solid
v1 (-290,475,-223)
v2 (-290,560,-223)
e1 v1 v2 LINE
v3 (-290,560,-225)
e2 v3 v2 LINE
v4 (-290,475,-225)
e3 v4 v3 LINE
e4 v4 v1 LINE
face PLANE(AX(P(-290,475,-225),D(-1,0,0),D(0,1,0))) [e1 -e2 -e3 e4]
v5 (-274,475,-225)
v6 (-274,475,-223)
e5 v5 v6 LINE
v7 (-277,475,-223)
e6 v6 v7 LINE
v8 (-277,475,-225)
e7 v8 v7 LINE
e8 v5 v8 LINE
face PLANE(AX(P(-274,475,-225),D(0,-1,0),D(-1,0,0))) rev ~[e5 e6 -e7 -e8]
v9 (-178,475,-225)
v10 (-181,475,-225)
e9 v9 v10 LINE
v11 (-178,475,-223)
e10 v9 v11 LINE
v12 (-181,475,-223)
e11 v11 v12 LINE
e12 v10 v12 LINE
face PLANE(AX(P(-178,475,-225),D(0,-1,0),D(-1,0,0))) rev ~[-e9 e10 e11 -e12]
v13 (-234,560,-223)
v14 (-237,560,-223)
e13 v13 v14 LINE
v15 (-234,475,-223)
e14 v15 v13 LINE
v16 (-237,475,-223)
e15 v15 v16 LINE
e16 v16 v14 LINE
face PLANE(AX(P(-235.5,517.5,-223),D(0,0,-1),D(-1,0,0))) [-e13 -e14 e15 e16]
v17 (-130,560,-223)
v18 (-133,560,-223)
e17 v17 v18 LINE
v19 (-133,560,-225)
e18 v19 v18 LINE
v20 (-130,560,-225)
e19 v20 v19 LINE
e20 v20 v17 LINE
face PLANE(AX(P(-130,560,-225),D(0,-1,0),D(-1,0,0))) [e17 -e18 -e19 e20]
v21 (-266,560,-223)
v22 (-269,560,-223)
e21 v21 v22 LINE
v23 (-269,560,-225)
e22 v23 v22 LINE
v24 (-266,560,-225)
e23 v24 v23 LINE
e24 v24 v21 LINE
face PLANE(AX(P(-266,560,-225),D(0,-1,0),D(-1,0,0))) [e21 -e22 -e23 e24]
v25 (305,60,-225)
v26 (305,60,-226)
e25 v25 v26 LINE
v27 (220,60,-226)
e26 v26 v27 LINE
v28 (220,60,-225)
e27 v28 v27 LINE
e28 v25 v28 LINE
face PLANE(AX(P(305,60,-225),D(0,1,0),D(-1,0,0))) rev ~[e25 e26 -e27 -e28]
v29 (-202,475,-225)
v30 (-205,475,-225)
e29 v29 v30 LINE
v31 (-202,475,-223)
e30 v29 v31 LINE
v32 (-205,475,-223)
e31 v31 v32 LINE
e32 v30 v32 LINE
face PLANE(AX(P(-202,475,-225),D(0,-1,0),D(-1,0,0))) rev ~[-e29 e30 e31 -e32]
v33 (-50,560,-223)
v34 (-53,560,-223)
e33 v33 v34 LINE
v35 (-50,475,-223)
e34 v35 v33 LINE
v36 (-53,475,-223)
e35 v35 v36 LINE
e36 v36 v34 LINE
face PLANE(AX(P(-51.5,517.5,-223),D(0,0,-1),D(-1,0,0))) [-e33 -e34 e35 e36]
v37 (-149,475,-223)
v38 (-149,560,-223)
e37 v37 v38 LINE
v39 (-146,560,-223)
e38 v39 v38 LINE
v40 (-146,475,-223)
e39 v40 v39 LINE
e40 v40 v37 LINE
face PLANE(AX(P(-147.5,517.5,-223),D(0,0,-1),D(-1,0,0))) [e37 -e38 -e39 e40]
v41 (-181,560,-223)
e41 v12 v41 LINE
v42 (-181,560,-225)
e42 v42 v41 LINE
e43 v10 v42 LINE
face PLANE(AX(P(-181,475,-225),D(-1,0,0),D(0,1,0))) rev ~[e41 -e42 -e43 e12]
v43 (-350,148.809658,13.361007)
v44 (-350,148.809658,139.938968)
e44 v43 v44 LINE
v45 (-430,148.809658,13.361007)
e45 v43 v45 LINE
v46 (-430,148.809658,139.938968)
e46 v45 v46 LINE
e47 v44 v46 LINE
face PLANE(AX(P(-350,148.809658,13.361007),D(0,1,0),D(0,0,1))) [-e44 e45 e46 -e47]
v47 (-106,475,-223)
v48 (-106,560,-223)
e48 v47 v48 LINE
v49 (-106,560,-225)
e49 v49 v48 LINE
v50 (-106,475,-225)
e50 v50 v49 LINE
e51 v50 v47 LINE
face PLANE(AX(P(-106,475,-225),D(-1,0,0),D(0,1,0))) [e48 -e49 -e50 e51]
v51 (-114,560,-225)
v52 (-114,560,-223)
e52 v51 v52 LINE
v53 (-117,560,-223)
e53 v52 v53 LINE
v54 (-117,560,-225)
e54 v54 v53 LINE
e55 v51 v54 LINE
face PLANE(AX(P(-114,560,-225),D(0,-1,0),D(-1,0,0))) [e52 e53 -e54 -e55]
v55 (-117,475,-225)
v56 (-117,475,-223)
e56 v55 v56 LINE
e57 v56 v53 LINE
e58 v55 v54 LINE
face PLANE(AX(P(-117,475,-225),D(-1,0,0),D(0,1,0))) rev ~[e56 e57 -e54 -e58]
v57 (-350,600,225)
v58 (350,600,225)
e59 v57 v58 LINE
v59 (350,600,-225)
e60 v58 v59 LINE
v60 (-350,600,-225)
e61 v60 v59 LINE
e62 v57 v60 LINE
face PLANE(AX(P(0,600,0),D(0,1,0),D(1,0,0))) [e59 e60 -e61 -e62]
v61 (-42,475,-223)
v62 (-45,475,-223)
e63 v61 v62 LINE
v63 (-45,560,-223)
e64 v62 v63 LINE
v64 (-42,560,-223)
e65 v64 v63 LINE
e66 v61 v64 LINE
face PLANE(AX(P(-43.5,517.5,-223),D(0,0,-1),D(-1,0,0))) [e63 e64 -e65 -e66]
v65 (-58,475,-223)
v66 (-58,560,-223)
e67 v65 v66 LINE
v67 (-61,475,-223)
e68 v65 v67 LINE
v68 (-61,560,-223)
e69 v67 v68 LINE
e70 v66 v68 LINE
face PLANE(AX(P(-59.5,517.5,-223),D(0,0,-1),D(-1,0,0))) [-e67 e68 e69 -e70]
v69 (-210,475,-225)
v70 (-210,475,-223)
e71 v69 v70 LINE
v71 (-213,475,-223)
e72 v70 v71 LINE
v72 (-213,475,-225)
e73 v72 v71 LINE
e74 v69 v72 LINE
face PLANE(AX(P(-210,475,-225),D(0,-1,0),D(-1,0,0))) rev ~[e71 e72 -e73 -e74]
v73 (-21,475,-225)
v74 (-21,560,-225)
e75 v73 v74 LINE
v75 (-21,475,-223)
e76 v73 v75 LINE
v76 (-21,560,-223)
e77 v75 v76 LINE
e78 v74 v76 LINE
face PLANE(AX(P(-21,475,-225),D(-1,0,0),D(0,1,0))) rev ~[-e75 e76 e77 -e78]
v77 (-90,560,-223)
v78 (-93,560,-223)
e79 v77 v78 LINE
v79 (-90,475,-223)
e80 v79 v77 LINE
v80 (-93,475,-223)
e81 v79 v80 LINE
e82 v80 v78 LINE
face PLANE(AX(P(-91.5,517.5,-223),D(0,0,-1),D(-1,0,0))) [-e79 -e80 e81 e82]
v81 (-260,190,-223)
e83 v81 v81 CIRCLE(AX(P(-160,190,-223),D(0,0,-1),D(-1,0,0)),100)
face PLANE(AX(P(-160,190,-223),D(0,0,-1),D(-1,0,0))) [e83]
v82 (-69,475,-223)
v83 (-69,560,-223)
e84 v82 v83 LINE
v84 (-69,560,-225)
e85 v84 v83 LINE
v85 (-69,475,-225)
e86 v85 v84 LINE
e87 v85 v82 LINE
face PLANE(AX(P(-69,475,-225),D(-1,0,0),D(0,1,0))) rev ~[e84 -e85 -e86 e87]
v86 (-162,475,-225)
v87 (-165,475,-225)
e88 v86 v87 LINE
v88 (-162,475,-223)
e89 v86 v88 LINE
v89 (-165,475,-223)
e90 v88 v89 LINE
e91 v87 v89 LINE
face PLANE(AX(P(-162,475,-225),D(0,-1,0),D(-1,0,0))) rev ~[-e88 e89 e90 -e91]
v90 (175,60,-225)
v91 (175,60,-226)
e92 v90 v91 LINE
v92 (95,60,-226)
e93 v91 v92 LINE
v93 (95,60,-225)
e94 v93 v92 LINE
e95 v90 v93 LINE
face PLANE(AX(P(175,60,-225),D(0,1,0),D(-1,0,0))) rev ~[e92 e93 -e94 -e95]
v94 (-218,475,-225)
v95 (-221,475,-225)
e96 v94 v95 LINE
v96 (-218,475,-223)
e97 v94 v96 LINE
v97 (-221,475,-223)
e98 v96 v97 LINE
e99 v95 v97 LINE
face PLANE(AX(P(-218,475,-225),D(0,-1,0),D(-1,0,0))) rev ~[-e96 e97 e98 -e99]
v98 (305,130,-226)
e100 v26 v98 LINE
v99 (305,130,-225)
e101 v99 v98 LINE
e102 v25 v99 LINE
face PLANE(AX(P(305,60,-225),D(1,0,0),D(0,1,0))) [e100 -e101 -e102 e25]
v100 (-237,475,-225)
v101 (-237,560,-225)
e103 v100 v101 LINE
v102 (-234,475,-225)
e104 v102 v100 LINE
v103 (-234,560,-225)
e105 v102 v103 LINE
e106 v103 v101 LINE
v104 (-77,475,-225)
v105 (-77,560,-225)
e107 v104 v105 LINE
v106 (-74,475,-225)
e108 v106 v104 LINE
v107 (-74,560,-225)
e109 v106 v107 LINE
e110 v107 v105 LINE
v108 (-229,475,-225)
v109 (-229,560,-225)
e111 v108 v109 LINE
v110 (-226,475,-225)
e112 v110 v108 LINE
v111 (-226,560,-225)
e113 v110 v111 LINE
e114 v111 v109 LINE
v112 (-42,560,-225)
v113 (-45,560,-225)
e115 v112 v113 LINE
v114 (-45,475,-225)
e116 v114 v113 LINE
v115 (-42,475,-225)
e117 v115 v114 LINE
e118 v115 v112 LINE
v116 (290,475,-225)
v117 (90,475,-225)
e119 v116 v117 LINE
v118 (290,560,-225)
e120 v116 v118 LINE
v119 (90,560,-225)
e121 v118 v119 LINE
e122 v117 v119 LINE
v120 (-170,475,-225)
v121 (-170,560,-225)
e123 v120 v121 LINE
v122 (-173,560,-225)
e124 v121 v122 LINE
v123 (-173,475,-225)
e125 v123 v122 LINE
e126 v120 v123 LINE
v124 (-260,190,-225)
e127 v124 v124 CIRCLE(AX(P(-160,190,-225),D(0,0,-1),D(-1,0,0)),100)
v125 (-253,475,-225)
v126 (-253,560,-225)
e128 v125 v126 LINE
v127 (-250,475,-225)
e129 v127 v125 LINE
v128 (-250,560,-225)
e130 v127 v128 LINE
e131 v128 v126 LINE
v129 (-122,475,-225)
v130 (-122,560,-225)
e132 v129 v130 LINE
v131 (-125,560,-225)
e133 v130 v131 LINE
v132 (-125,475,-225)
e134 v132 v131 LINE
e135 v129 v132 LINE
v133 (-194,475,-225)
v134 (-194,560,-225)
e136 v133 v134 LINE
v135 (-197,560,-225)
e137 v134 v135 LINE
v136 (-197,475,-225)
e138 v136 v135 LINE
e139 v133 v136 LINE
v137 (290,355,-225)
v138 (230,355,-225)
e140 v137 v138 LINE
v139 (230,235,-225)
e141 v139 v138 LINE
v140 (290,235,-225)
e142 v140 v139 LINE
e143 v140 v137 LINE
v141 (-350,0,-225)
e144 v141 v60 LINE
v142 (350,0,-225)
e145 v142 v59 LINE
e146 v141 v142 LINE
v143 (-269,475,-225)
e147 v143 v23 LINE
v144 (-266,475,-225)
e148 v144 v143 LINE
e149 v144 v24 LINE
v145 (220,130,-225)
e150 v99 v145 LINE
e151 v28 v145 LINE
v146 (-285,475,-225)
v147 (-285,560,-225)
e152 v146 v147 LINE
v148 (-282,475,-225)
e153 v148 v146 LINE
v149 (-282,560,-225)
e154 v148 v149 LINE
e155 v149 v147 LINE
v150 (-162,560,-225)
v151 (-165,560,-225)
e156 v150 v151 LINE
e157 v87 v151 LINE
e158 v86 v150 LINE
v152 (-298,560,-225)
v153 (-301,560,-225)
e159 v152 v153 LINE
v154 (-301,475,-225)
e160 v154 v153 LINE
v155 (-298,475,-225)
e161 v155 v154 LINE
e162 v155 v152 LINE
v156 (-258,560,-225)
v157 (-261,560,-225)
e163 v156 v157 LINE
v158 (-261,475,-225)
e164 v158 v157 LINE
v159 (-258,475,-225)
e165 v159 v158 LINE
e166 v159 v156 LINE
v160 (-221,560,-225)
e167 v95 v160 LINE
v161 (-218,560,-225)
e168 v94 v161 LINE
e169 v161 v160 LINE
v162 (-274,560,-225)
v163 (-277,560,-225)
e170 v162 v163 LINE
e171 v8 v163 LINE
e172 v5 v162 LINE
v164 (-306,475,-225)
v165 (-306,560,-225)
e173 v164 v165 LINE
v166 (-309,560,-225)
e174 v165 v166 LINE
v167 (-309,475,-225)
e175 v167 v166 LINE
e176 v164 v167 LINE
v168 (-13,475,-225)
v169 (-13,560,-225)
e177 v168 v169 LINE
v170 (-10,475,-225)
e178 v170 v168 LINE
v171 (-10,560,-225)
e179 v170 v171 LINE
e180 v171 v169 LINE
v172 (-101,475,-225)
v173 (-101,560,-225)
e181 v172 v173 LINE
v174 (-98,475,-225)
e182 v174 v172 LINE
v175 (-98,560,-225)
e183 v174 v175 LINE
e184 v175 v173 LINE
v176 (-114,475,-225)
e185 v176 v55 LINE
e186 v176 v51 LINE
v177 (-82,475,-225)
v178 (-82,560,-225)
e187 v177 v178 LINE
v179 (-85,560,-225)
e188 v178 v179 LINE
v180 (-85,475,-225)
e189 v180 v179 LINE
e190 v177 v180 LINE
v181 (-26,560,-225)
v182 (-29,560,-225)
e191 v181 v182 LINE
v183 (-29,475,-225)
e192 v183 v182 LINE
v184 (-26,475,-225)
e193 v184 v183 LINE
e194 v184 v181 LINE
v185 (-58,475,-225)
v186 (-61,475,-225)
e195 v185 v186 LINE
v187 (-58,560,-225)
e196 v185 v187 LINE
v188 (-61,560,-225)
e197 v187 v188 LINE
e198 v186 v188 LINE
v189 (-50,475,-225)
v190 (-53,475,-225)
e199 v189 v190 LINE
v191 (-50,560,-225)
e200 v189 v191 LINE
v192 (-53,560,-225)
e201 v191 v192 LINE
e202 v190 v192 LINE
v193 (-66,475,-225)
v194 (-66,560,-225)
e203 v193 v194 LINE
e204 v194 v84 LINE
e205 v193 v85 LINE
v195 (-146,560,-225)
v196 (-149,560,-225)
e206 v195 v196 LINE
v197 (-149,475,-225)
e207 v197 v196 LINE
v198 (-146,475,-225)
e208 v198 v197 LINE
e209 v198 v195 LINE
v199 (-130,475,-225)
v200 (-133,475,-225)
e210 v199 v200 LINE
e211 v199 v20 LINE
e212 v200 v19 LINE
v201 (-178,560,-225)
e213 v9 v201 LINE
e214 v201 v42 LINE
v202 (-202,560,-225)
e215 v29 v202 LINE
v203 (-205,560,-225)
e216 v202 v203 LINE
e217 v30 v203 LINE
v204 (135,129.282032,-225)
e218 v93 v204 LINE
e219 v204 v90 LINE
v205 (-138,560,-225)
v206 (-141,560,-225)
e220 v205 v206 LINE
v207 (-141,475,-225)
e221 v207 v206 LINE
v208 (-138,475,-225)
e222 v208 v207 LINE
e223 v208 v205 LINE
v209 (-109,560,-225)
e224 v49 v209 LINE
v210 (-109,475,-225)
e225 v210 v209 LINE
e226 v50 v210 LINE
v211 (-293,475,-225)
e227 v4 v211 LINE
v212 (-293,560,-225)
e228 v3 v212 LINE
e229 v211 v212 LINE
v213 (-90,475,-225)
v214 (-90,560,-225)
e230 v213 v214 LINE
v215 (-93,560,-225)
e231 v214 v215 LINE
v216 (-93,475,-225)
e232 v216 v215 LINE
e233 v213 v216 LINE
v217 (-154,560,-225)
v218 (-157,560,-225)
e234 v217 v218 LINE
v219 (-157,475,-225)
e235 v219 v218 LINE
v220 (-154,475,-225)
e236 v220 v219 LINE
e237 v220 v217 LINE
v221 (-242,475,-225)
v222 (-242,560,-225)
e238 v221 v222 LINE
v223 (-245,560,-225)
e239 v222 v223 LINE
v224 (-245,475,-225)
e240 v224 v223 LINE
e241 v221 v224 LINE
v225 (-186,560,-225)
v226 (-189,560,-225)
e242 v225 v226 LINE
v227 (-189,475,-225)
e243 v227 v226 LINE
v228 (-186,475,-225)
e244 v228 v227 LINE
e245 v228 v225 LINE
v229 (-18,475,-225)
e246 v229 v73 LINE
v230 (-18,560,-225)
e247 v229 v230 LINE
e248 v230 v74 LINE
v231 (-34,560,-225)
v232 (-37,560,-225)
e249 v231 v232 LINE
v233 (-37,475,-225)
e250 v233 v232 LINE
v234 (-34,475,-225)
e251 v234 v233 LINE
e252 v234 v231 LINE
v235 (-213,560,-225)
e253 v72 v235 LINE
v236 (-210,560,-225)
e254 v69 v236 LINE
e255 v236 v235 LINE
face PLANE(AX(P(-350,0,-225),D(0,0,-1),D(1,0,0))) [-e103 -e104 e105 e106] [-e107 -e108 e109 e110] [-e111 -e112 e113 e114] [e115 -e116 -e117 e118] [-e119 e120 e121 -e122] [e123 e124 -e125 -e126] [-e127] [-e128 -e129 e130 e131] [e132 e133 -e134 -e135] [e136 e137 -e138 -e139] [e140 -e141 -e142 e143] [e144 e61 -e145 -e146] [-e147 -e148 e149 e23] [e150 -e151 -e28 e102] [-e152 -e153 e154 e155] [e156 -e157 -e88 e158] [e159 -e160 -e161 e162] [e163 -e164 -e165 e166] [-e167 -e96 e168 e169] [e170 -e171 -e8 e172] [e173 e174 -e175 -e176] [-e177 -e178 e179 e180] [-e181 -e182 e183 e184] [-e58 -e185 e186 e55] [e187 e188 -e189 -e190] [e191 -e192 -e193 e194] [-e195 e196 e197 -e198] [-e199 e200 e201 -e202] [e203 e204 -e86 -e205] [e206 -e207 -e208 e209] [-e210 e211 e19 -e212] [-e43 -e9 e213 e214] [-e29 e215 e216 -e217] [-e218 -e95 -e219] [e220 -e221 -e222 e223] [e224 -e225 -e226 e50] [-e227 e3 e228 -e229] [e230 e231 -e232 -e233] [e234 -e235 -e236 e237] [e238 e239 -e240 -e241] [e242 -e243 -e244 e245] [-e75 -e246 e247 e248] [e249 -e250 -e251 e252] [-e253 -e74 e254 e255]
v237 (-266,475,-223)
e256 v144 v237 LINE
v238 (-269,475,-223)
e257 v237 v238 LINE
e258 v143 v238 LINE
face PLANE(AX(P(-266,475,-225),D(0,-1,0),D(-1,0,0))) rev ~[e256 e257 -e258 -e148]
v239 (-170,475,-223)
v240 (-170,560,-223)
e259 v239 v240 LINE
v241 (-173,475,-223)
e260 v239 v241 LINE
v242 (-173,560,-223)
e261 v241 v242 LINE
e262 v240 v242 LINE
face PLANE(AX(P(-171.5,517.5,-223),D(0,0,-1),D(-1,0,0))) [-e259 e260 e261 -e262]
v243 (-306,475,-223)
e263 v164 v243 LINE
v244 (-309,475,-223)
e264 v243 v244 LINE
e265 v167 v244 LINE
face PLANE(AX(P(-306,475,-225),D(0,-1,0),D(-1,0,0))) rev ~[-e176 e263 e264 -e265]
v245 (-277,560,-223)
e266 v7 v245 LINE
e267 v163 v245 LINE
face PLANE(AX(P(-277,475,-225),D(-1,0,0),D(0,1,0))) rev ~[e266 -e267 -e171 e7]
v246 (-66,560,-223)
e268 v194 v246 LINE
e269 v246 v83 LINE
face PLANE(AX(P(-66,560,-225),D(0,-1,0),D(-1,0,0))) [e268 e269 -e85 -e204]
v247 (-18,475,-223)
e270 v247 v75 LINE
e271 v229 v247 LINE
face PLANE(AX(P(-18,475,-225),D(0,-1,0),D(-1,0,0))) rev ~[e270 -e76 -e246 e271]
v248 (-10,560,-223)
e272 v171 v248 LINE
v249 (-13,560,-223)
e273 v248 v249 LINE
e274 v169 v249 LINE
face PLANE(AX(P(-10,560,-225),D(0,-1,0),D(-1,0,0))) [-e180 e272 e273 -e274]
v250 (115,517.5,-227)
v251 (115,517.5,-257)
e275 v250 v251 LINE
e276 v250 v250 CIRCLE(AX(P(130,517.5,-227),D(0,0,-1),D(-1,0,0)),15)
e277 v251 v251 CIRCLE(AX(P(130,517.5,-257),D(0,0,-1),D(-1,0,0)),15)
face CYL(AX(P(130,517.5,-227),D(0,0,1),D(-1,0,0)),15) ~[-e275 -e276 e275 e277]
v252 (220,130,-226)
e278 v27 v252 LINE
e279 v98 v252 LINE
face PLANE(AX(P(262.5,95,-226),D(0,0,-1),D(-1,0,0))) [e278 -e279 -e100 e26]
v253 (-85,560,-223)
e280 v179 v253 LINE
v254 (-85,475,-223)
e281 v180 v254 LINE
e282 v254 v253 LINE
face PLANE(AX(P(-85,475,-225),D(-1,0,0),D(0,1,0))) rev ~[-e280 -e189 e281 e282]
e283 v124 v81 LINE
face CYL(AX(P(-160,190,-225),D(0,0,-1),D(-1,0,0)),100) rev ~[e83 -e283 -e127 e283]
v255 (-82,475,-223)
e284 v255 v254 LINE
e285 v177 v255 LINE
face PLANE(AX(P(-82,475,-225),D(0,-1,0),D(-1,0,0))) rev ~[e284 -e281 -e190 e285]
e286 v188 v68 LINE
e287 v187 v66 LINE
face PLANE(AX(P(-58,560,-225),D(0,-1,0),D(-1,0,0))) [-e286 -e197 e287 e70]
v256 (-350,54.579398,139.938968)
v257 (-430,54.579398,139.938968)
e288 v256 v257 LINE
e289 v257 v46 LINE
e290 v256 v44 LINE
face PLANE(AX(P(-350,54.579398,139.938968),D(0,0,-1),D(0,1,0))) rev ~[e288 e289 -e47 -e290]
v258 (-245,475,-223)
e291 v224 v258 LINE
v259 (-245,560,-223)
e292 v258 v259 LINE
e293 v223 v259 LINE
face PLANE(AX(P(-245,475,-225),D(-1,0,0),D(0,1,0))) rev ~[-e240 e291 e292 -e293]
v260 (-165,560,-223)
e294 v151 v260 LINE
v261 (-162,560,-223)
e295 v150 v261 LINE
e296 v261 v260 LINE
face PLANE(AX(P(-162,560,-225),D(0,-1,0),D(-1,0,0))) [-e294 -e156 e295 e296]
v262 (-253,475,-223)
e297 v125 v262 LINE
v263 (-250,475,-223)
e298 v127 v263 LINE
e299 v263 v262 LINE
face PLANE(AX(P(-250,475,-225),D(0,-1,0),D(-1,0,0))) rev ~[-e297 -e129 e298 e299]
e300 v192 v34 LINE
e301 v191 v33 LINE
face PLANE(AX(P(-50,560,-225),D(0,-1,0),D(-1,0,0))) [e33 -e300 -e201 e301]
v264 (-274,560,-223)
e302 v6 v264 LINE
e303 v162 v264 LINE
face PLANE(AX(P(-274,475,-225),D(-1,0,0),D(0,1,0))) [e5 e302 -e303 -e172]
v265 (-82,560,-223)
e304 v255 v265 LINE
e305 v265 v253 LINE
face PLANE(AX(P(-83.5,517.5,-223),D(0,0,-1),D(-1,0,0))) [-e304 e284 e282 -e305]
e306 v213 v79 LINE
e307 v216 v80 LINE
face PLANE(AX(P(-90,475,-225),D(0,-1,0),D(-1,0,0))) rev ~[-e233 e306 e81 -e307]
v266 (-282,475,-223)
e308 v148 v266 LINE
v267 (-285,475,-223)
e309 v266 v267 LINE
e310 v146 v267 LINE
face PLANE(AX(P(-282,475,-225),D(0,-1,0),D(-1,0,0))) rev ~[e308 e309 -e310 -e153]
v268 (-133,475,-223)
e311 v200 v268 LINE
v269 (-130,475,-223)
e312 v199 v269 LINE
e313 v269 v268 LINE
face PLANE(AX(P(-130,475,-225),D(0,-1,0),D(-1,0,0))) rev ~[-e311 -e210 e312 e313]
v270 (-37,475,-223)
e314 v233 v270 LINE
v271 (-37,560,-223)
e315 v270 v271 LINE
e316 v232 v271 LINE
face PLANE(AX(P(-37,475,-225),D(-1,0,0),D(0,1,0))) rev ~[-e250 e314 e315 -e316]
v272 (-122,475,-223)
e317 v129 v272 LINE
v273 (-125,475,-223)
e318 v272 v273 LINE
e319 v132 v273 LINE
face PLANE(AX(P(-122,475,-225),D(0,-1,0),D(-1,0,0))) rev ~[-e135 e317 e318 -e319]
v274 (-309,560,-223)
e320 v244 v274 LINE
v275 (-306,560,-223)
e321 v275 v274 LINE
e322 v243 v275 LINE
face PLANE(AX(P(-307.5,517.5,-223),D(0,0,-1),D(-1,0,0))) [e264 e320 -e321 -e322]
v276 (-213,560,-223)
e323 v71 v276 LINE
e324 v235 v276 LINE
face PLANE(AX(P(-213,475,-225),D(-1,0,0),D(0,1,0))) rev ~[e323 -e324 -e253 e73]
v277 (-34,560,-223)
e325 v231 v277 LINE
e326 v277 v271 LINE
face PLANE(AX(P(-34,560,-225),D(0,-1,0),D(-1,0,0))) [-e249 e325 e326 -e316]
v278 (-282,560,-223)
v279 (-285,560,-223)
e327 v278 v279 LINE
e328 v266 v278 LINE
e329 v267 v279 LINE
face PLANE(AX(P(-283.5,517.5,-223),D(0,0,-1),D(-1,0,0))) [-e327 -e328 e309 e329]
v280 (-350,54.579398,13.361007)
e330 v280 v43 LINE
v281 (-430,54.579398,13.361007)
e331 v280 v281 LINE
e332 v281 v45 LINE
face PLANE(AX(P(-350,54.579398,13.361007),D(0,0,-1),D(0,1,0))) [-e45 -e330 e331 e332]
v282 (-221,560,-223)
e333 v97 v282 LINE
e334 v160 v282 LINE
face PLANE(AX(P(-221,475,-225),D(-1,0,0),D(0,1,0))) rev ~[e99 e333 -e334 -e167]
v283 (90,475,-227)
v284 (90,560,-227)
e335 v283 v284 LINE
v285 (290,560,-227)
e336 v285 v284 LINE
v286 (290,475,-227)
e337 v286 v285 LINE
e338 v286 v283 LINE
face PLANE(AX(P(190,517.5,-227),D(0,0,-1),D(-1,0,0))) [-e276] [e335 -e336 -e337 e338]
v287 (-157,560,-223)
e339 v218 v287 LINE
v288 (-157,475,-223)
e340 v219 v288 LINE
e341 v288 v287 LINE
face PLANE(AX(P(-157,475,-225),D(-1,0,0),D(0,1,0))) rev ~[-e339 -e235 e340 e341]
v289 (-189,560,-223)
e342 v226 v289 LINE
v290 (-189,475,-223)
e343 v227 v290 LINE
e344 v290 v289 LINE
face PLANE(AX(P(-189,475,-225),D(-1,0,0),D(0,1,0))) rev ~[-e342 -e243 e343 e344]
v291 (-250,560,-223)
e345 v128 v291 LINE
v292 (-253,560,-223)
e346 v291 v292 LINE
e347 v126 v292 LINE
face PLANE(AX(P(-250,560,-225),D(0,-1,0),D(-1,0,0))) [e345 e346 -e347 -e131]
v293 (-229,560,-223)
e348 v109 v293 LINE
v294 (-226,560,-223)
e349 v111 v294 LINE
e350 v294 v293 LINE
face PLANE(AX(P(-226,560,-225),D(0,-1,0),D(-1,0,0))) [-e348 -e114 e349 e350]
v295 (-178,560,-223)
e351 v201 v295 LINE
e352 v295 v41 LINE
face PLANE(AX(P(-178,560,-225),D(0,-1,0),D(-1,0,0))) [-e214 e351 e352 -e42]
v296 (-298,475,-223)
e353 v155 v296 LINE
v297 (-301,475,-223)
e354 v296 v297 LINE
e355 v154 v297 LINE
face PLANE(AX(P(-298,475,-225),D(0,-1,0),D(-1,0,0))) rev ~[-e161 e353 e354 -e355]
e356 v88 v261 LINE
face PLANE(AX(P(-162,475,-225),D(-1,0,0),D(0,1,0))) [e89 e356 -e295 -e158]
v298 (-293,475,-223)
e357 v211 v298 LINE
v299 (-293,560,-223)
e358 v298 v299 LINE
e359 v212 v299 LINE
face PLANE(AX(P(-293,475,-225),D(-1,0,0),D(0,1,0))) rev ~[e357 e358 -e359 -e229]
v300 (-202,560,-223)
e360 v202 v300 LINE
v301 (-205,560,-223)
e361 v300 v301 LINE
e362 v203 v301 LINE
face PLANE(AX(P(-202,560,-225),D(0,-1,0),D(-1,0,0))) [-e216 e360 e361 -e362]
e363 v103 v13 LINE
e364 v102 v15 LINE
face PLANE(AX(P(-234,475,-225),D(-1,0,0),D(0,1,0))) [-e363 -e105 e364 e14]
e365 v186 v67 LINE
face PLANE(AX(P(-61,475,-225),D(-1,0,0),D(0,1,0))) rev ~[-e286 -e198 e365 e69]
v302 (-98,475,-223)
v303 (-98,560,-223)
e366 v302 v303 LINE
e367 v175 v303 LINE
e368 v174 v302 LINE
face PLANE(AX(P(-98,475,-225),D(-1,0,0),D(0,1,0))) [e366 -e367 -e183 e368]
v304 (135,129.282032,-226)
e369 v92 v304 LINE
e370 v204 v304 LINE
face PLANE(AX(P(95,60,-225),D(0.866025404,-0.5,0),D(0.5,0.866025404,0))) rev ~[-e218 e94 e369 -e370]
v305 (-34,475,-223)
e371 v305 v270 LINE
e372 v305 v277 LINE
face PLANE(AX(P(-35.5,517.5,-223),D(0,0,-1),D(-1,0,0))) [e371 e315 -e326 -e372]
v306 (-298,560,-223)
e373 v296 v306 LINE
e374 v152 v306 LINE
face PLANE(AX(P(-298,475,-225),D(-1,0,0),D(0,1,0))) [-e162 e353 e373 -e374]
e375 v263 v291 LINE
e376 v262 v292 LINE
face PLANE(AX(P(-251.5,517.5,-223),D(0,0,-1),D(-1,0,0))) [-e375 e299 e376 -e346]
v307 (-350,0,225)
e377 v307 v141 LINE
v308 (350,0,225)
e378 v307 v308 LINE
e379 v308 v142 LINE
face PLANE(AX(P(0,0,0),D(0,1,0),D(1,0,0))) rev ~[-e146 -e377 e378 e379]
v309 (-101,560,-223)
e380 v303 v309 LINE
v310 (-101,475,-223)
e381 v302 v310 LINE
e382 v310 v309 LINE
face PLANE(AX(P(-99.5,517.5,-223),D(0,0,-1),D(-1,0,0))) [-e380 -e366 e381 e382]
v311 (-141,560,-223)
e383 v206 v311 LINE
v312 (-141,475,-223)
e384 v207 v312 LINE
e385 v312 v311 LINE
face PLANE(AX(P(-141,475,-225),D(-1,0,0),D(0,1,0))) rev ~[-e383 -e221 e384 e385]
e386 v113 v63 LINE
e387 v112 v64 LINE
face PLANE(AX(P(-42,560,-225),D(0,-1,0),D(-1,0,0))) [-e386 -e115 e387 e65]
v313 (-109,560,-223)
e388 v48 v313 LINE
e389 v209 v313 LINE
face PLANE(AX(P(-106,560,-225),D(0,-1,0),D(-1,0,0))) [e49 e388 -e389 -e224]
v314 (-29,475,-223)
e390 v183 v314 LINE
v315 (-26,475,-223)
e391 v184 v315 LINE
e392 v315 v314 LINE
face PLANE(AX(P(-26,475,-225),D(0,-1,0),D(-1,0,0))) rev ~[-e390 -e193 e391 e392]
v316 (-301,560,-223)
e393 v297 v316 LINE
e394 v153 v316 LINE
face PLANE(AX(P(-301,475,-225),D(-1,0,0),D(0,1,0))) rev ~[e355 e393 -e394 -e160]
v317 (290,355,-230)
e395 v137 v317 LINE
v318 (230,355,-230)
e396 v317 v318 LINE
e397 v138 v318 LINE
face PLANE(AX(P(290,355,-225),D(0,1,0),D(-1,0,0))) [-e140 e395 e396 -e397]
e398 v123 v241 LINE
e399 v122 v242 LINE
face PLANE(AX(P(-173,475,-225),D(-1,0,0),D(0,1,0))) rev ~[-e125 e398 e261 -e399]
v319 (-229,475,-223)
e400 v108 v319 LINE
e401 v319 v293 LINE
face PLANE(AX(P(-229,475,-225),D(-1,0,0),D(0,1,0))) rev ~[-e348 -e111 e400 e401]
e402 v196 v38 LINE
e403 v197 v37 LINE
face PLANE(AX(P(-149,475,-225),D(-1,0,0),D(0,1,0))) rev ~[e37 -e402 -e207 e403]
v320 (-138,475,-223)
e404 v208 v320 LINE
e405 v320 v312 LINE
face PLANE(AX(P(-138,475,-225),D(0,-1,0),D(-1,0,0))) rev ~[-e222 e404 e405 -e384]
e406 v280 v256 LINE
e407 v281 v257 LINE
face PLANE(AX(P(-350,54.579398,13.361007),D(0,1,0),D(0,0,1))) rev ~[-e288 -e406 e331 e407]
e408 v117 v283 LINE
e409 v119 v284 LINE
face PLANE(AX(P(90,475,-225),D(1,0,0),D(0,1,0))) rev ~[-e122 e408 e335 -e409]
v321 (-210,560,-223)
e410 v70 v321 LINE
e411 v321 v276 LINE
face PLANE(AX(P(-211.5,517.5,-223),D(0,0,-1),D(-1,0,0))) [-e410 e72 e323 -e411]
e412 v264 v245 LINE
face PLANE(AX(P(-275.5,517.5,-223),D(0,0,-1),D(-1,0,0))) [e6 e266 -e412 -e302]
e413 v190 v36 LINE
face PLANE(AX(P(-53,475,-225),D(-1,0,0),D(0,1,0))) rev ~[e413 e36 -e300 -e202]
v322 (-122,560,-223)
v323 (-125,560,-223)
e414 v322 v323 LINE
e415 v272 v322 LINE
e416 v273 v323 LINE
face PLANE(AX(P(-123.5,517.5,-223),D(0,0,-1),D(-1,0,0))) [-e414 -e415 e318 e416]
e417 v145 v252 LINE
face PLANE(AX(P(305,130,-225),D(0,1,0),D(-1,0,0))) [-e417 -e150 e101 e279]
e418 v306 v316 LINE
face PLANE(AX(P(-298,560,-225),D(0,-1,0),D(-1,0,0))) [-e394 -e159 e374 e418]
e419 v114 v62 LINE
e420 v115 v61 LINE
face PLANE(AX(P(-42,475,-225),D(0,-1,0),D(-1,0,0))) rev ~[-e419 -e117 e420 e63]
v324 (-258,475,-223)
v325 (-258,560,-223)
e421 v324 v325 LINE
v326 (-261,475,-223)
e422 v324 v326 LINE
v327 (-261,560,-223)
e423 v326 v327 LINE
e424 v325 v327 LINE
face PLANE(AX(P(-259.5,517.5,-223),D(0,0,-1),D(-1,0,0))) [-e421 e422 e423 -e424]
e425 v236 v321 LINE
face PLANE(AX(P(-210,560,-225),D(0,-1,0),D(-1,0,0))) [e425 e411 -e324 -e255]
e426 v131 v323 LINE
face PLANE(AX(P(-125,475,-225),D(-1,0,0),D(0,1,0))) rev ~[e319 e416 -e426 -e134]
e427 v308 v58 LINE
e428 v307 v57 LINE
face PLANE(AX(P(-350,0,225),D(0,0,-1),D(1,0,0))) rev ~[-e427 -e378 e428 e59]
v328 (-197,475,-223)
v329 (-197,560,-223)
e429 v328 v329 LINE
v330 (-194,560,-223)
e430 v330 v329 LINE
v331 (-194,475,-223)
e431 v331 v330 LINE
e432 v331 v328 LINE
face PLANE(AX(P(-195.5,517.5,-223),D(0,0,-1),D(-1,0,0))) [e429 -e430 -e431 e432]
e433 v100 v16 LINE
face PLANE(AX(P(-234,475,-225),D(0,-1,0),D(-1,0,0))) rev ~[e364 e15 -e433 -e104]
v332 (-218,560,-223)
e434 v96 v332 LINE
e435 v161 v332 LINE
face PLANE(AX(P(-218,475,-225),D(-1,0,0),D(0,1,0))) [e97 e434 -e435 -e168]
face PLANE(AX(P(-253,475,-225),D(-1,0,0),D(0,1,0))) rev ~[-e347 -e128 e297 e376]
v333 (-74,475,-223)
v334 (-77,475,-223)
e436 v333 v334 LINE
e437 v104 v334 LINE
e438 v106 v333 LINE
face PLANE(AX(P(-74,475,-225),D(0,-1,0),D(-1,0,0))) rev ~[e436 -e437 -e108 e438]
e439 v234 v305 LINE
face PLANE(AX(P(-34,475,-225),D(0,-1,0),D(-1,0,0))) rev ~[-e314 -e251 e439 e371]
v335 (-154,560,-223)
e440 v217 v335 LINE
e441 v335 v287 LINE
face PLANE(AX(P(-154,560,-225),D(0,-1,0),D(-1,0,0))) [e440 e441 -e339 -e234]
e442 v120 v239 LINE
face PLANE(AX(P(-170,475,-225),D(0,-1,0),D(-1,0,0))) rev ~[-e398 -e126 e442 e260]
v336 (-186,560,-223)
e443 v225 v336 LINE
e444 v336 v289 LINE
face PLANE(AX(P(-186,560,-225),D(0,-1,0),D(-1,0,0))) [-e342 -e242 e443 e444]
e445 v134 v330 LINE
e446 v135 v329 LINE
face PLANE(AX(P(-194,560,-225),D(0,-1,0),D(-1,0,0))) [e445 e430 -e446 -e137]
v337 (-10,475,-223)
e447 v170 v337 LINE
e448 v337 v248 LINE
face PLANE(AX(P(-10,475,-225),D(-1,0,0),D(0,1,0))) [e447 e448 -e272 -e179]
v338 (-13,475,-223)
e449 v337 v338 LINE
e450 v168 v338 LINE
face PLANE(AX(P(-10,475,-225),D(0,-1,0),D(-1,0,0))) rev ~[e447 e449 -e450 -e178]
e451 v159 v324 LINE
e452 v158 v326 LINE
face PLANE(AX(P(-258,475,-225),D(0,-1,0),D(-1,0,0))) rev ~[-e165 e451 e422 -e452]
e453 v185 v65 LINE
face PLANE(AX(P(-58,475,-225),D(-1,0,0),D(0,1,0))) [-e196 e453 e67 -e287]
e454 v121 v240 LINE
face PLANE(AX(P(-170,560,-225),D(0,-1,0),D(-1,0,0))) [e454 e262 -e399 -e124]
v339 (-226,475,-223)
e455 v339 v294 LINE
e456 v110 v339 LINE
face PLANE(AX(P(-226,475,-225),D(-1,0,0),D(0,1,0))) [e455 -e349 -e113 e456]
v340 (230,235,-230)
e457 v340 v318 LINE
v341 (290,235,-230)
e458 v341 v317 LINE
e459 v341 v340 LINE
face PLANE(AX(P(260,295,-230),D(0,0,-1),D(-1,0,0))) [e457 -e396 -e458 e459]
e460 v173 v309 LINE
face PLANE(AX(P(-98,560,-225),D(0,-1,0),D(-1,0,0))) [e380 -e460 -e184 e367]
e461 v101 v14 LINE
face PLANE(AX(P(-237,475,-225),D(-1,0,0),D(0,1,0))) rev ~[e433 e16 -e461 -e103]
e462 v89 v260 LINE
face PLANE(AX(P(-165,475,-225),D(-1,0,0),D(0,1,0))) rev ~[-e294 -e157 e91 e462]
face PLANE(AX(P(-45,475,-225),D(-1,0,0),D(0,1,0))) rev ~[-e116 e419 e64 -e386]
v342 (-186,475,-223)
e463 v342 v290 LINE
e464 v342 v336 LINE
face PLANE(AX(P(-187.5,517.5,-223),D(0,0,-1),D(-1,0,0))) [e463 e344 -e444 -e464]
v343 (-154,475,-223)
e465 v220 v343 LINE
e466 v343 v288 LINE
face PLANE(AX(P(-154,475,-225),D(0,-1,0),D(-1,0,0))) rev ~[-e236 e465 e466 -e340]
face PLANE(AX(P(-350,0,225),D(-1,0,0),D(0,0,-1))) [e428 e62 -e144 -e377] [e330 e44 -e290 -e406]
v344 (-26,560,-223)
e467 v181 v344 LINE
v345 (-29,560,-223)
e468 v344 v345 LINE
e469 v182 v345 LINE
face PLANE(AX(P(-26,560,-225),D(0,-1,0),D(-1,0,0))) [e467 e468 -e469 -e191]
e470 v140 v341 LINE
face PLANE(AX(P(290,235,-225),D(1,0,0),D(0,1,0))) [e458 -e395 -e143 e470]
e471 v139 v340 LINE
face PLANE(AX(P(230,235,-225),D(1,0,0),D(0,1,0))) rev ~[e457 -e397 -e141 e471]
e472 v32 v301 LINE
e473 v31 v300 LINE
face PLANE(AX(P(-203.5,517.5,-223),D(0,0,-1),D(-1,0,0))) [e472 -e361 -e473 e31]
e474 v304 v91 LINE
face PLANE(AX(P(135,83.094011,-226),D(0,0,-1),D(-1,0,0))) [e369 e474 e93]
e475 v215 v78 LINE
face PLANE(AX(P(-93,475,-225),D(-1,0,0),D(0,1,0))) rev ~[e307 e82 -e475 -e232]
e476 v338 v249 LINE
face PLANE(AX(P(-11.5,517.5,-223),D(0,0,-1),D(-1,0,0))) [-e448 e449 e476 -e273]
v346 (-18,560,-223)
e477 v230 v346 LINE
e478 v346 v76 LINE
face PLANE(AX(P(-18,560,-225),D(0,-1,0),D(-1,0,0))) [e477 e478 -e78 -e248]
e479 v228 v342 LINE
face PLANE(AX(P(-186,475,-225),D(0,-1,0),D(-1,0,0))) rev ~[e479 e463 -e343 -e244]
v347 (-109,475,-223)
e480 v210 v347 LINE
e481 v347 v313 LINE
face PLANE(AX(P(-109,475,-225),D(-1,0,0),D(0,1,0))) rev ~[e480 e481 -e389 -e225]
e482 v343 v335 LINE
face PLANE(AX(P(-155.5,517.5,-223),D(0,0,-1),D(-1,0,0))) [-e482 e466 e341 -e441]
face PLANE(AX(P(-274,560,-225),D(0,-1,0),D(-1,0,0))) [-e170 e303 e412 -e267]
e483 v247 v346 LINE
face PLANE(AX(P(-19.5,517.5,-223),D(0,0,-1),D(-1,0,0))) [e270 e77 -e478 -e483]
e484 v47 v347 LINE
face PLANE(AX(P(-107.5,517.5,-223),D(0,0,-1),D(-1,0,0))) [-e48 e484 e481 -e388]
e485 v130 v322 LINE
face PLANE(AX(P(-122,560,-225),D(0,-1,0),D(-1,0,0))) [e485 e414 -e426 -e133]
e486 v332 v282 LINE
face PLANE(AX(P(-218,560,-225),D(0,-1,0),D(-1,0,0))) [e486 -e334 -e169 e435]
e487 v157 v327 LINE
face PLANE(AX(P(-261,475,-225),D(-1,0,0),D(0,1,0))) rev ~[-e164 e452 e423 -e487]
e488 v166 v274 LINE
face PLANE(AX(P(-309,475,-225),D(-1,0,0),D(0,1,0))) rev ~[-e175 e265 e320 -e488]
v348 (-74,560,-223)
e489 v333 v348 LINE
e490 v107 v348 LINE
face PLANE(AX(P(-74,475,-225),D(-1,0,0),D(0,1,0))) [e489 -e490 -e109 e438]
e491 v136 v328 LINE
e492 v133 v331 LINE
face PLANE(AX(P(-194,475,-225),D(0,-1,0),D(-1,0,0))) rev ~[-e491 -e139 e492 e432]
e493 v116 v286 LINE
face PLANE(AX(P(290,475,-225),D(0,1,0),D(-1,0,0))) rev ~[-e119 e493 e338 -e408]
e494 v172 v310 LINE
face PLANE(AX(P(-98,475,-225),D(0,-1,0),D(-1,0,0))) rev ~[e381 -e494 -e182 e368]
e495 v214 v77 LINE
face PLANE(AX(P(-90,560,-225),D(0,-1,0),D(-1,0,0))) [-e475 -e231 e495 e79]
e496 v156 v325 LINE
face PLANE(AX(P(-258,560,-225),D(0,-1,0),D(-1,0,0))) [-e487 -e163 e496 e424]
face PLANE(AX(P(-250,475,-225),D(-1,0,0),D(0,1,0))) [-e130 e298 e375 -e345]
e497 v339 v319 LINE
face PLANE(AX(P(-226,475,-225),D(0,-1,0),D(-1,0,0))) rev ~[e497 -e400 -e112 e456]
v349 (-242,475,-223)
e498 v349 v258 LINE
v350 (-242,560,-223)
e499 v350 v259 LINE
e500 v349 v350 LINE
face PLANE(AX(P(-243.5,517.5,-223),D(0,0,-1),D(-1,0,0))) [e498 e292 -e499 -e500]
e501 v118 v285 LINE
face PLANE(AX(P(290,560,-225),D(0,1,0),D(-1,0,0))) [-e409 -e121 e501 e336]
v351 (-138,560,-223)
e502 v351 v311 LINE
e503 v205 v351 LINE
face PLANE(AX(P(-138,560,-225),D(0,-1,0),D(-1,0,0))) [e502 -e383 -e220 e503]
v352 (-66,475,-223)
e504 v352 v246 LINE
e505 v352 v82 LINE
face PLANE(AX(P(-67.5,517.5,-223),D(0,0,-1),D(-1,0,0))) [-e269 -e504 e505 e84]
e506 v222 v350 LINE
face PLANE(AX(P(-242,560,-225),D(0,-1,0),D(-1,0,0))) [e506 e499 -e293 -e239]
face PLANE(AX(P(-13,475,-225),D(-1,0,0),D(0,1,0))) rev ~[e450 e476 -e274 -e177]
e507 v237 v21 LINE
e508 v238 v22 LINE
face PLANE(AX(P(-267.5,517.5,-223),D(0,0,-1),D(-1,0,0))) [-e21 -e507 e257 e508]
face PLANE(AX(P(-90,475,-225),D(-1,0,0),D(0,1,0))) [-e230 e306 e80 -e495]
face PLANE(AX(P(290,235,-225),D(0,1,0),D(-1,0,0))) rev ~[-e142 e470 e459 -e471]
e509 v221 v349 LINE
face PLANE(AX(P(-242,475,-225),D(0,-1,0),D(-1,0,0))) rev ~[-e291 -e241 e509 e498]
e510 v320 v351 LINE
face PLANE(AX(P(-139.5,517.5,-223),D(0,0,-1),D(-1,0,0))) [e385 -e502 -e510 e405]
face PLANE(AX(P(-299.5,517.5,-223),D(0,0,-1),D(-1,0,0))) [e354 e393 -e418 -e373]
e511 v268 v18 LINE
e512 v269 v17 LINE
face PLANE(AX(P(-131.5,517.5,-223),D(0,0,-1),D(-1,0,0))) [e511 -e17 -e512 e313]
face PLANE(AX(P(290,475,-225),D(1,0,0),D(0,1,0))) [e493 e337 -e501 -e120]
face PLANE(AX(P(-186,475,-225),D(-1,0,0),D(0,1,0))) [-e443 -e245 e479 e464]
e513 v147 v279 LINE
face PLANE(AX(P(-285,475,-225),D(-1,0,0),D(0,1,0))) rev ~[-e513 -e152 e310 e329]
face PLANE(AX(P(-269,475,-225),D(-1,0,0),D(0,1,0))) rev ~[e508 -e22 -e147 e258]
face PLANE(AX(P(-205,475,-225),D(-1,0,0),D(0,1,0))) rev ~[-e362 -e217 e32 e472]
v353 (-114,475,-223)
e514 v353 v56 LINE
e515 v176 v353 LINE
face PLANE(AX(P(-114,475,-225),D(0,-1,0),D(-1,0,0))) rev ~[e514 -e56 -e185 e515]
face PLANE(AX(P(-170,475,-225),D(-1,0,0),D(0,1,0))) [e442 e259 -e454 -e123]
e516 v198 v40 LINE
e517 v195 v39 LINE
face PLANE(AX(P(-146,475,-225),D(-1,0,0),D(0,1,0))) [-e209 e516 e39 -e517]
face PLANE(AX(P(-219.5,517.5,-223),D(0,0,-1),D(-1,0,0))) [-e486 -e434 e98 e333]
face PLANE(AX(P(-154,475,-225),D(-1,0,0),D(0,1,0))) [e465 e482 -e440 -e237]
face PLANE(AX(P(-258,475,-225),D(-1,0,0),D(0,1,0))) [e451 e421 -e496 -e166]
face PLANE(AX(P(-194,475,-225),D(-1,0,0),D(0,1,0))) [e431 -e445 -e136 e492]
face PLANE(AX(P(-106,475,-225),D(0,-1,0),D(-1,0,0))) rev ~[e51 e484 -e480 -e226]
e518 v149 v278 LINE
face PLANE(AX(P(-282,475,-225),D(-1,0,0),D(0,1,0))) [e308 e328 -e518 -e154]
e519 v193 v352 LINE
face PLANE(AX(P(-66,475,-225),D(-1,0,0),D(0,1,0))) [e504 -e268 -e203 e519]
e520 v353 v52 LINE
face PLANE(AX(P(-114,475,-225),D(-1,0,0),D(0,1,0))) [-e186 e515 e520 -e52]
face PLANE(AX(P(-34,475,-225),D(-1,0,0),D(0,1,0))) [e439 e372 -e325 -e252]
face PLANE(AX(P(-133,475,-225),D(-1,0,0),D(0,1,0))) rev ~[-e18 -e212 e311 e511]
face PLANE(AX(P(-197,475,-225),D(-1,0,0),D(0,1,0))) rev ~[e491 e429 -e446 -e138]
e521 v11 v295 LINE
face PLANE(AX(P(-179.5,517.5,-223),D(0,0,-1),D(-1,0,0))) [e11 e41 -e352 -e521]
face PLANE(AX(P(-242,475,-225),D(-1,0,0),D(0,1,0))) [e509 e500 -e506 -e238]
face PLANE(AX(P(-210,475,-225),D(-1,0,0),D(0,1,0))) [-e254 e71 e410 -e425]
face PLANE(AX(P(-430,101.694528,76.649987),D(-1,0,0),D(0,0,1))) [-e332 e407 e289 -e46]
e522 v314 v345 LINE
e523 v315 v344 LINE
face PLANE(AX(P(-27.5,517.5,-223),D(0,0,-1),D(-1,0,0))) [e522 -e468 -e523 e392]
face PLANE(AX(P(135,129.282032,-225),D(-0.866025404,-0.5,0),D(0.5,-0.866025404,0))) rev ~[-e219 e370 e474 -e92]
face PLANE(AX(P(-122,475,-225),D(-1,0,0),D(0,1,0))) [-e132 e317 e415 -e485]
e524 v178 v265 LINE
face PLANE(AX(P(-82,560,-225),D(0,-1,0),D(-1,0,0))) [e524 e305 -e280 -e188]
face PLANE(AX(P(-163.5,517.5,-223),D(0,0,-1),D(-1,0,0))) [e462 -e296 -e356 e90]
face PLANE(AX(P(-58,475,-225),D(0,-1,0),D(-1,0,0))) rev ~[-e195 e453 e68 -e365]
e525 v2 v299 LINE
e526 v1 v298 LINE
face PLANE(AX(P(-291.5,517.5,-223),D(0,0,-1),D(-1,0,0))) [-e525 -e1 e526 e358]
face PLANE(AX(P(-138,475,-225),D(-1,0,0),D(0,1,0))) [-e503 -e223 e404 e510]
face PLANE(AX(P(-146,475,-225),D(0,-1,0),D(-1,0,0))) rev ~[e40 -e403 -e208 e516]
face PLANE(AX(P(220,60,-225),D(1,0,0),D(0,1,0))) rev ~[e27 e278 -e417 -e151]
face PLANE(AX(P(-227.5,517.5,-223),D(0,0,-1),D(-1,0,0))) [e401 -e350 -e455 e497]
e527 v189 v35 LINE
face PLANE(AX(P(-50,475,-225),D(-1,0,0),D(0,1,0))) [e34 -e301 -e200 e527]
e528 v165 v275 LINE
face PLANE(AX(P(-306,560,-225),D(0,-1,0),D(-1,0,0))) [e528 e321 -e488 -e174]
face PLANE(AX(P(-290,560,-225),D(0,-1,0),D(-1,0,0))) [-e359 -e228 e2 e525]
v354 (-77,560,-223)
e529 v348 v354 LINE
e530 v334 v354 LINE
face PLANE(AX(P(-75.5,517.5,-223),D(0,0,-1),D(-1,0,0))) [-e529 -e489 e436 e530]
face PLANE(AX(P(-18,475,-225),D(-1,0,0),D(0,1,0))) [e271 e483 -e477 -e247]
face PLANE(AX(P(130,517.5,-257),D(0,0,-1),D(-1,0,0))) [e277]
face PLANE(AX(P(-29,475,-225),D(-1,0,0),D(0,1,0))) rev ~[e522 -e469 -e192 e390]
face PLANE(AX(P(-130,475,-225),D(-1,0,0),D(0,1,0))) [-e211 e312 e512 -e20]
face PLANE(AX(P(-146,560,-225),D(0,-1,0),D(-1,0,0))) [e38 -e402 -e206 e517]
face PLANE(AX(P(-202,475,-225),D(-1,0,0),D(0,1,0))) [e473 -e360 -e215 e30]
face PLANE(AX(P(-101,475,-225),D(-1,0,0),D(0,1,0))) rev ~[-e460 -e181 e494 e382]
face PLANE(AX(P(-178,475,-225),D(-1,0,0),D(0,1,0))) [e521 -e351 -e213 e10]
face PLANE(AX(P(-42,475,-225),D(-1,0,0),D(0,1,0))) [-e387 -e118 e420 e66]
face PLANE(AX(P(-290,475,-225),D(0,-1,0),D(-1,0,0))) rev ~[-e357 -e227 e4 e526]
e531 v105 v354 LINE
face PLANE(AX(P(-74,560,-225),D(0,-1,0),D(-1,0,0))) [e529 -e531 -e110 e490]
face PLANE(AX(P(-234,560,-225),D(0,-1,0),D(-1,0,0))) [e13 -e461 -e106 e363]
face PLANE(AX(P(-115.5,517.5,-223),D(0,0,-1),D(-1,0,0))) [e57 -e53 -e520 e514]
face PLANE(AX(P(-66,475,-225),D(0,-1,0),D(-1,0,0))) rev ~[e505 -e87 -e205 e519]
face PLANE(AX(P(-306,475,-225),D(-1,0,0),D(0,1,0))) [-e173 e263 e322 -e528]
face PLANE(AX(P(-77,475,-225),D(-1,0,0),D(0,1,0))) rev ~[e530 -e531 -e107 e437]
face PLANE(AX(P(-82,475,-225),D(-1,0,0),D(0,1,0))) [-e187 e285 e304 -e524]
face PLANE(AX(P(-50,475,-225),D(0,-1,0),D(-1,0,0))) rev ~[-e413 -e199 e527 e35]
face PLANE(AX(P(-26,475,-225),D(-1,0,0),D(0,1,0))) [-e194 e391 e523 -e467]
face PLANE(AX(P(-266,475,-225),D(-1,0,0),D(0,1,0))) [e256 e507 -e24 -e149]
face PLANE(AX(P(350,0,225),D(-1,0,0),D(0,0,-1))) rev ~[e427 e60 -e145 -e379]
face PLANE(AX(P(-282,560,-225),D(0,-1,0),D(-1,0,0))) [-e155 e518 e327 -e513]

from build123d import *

# Parameters (mm, degrees)
SKETCH_1_W             = 700
SKETCH_1_H             = 450
EXTRUDE_1_DEPTH        = 600
SKETCH_2_W             = 126.57796077
SKETCH_2_H             = 94.230259684
EXTRUDE_2_DEPTH        = 80
SKETCH_3_R             = 100
CUT_EXTRUDE_1_DEPTH    = 2
SKETCH_4_W             = 200
SKETCH_4_H             = 85
EXTRUDE_3_DEPTH        = 2
SKETCH_5_R             = 15
EXTRUDE_4_DEPTH        = 30
SKETCH_6_W             = 60
SKETCH_6_H             = 120
EXTRUDE_5_DEPTH        = 5
SKETCH_7_W             = 85
SKETCH_7_H             = 70
EXTRUDE_6_DEPTH        = 1
SKETCH_8_W             = 3
SKETCH_8_H             = 85
CUT_EXTRUDE_2_DEPTH    = 2
PATTERN_LINEAR_1_COUNT = 38
PATTERN_LINEAR_1_PITCH = 8


with BuildPart() as part:
    # 草图1 → 凸台-拉伸1 (new body)
    with BuildSketch(Plane(origin=(0, 0, 0), x_dir=(1, 0, 0), z_dir=(0, 1, 0))):
        Rectangle(SKETCH_1_W, SKETCH_1_H)
    extrude(amount=EXTRUDE_1_DEPTH)

    # 草图2 → 凸台-拉伸2 (add)
    with BuildSketch(Plane.ZY.offset(350)):
        with Locations((76.649987355, 101.694528127)):
            Rectangle(SKETCH_2_W, SKETCH_2_H)
    extrude(amount=EXTRUDE_2_DEPTH)

    # 草图3 → 切除-拉伸1 (cut)
    with BuildSketch(Plane(origin=(0, 0, -225), x_dir=(-1, 0, 0), z_dir=(0, 0, -1))):
        with Locations((160, 190)):
            Circle(SKETCH_3_R)
    extrude(amount=-CUT_EXTRUDE_1_DEPTH, mode=Mode.SUBTRACT)

    # 草图4 → 凸台-拉伸3 (add)
    with BuildSketch(Plane(origin=(0, 0, -225), x_dir=(-1, 0, 0), z_dir=(0, 0, -1))):
        with Locations((-190, 517.5)):
            Rectangle(SKETCH_4_W, SKETCH_4_H)
    extrude(amount=EXTRUDE_3_DEPTH)

    # 草图5 → 凸台-拉伸4 (add)
    with BuildSketch(Plane(origin=(0, 0, -227), x_dir=(-1, 0, 0), z_dir=(0, 0, -1))):
        with Locations((-130, 517.5)):
            Circle(SKETCH_5_R)
    extrude(amount=EXTRUDE_4_DEPTH)

    # 草图6 → 凸台-拉伸5 (add)
    with BuildSketch(Plane(origin=(0, 0, -225), x_dir=(-1, 0, 0), z_dir=(0, 0, -1))):
        with Locations((-260, 295)):
            Rectangle(SKETCH_6_W, SKETCH_6_H)
    extrude(amount=EXTRUDE_5_DEPTH)

    # 草图7 → 凸台-拉伸6 (add)
    with BuildSketch(Plane(origin=(0, 0, -225), x_dir=(-1, 0, 0), z_dir=(0, 0, -1))):
        Polygon((-135, 129.282032303), (-175, 60), (-95, 60), align=None)
        with Locations((-262.5, 95)):
            Rectangle(SKETCH_7_W, SKETCH_7_H)
    extrude(amount=EXTRUDE_6_DEPTH)

    # 草图8 → 切除-拉伸2 (cut)
    with BuildSketch(Plane(origin=(0, 0, -225), x_dir=(-1, 0, 0), z_dir=(0, 0, -1))):
        with Locations((11.5, 517.5)):
            Rectangle(SKETCH_8_W, SKETCH_8_H)
    cut_extrude_2 = extrude(amount=-CUT_EXTRUDE_2_DEPTH, mode=Mode.SUBTRACT)

    # 阵列(线性)1: 切除-拉伸2 ×38
    with Locations(*[(-i * PATTERN_LINEAR_1_PITCH, 0, 0) for i in range(1, PATTERN_LINEAR_1_COUNT)]):
        add(cut_extrude_2, mode=Mode.SUBTRACT)


solid = part.part
